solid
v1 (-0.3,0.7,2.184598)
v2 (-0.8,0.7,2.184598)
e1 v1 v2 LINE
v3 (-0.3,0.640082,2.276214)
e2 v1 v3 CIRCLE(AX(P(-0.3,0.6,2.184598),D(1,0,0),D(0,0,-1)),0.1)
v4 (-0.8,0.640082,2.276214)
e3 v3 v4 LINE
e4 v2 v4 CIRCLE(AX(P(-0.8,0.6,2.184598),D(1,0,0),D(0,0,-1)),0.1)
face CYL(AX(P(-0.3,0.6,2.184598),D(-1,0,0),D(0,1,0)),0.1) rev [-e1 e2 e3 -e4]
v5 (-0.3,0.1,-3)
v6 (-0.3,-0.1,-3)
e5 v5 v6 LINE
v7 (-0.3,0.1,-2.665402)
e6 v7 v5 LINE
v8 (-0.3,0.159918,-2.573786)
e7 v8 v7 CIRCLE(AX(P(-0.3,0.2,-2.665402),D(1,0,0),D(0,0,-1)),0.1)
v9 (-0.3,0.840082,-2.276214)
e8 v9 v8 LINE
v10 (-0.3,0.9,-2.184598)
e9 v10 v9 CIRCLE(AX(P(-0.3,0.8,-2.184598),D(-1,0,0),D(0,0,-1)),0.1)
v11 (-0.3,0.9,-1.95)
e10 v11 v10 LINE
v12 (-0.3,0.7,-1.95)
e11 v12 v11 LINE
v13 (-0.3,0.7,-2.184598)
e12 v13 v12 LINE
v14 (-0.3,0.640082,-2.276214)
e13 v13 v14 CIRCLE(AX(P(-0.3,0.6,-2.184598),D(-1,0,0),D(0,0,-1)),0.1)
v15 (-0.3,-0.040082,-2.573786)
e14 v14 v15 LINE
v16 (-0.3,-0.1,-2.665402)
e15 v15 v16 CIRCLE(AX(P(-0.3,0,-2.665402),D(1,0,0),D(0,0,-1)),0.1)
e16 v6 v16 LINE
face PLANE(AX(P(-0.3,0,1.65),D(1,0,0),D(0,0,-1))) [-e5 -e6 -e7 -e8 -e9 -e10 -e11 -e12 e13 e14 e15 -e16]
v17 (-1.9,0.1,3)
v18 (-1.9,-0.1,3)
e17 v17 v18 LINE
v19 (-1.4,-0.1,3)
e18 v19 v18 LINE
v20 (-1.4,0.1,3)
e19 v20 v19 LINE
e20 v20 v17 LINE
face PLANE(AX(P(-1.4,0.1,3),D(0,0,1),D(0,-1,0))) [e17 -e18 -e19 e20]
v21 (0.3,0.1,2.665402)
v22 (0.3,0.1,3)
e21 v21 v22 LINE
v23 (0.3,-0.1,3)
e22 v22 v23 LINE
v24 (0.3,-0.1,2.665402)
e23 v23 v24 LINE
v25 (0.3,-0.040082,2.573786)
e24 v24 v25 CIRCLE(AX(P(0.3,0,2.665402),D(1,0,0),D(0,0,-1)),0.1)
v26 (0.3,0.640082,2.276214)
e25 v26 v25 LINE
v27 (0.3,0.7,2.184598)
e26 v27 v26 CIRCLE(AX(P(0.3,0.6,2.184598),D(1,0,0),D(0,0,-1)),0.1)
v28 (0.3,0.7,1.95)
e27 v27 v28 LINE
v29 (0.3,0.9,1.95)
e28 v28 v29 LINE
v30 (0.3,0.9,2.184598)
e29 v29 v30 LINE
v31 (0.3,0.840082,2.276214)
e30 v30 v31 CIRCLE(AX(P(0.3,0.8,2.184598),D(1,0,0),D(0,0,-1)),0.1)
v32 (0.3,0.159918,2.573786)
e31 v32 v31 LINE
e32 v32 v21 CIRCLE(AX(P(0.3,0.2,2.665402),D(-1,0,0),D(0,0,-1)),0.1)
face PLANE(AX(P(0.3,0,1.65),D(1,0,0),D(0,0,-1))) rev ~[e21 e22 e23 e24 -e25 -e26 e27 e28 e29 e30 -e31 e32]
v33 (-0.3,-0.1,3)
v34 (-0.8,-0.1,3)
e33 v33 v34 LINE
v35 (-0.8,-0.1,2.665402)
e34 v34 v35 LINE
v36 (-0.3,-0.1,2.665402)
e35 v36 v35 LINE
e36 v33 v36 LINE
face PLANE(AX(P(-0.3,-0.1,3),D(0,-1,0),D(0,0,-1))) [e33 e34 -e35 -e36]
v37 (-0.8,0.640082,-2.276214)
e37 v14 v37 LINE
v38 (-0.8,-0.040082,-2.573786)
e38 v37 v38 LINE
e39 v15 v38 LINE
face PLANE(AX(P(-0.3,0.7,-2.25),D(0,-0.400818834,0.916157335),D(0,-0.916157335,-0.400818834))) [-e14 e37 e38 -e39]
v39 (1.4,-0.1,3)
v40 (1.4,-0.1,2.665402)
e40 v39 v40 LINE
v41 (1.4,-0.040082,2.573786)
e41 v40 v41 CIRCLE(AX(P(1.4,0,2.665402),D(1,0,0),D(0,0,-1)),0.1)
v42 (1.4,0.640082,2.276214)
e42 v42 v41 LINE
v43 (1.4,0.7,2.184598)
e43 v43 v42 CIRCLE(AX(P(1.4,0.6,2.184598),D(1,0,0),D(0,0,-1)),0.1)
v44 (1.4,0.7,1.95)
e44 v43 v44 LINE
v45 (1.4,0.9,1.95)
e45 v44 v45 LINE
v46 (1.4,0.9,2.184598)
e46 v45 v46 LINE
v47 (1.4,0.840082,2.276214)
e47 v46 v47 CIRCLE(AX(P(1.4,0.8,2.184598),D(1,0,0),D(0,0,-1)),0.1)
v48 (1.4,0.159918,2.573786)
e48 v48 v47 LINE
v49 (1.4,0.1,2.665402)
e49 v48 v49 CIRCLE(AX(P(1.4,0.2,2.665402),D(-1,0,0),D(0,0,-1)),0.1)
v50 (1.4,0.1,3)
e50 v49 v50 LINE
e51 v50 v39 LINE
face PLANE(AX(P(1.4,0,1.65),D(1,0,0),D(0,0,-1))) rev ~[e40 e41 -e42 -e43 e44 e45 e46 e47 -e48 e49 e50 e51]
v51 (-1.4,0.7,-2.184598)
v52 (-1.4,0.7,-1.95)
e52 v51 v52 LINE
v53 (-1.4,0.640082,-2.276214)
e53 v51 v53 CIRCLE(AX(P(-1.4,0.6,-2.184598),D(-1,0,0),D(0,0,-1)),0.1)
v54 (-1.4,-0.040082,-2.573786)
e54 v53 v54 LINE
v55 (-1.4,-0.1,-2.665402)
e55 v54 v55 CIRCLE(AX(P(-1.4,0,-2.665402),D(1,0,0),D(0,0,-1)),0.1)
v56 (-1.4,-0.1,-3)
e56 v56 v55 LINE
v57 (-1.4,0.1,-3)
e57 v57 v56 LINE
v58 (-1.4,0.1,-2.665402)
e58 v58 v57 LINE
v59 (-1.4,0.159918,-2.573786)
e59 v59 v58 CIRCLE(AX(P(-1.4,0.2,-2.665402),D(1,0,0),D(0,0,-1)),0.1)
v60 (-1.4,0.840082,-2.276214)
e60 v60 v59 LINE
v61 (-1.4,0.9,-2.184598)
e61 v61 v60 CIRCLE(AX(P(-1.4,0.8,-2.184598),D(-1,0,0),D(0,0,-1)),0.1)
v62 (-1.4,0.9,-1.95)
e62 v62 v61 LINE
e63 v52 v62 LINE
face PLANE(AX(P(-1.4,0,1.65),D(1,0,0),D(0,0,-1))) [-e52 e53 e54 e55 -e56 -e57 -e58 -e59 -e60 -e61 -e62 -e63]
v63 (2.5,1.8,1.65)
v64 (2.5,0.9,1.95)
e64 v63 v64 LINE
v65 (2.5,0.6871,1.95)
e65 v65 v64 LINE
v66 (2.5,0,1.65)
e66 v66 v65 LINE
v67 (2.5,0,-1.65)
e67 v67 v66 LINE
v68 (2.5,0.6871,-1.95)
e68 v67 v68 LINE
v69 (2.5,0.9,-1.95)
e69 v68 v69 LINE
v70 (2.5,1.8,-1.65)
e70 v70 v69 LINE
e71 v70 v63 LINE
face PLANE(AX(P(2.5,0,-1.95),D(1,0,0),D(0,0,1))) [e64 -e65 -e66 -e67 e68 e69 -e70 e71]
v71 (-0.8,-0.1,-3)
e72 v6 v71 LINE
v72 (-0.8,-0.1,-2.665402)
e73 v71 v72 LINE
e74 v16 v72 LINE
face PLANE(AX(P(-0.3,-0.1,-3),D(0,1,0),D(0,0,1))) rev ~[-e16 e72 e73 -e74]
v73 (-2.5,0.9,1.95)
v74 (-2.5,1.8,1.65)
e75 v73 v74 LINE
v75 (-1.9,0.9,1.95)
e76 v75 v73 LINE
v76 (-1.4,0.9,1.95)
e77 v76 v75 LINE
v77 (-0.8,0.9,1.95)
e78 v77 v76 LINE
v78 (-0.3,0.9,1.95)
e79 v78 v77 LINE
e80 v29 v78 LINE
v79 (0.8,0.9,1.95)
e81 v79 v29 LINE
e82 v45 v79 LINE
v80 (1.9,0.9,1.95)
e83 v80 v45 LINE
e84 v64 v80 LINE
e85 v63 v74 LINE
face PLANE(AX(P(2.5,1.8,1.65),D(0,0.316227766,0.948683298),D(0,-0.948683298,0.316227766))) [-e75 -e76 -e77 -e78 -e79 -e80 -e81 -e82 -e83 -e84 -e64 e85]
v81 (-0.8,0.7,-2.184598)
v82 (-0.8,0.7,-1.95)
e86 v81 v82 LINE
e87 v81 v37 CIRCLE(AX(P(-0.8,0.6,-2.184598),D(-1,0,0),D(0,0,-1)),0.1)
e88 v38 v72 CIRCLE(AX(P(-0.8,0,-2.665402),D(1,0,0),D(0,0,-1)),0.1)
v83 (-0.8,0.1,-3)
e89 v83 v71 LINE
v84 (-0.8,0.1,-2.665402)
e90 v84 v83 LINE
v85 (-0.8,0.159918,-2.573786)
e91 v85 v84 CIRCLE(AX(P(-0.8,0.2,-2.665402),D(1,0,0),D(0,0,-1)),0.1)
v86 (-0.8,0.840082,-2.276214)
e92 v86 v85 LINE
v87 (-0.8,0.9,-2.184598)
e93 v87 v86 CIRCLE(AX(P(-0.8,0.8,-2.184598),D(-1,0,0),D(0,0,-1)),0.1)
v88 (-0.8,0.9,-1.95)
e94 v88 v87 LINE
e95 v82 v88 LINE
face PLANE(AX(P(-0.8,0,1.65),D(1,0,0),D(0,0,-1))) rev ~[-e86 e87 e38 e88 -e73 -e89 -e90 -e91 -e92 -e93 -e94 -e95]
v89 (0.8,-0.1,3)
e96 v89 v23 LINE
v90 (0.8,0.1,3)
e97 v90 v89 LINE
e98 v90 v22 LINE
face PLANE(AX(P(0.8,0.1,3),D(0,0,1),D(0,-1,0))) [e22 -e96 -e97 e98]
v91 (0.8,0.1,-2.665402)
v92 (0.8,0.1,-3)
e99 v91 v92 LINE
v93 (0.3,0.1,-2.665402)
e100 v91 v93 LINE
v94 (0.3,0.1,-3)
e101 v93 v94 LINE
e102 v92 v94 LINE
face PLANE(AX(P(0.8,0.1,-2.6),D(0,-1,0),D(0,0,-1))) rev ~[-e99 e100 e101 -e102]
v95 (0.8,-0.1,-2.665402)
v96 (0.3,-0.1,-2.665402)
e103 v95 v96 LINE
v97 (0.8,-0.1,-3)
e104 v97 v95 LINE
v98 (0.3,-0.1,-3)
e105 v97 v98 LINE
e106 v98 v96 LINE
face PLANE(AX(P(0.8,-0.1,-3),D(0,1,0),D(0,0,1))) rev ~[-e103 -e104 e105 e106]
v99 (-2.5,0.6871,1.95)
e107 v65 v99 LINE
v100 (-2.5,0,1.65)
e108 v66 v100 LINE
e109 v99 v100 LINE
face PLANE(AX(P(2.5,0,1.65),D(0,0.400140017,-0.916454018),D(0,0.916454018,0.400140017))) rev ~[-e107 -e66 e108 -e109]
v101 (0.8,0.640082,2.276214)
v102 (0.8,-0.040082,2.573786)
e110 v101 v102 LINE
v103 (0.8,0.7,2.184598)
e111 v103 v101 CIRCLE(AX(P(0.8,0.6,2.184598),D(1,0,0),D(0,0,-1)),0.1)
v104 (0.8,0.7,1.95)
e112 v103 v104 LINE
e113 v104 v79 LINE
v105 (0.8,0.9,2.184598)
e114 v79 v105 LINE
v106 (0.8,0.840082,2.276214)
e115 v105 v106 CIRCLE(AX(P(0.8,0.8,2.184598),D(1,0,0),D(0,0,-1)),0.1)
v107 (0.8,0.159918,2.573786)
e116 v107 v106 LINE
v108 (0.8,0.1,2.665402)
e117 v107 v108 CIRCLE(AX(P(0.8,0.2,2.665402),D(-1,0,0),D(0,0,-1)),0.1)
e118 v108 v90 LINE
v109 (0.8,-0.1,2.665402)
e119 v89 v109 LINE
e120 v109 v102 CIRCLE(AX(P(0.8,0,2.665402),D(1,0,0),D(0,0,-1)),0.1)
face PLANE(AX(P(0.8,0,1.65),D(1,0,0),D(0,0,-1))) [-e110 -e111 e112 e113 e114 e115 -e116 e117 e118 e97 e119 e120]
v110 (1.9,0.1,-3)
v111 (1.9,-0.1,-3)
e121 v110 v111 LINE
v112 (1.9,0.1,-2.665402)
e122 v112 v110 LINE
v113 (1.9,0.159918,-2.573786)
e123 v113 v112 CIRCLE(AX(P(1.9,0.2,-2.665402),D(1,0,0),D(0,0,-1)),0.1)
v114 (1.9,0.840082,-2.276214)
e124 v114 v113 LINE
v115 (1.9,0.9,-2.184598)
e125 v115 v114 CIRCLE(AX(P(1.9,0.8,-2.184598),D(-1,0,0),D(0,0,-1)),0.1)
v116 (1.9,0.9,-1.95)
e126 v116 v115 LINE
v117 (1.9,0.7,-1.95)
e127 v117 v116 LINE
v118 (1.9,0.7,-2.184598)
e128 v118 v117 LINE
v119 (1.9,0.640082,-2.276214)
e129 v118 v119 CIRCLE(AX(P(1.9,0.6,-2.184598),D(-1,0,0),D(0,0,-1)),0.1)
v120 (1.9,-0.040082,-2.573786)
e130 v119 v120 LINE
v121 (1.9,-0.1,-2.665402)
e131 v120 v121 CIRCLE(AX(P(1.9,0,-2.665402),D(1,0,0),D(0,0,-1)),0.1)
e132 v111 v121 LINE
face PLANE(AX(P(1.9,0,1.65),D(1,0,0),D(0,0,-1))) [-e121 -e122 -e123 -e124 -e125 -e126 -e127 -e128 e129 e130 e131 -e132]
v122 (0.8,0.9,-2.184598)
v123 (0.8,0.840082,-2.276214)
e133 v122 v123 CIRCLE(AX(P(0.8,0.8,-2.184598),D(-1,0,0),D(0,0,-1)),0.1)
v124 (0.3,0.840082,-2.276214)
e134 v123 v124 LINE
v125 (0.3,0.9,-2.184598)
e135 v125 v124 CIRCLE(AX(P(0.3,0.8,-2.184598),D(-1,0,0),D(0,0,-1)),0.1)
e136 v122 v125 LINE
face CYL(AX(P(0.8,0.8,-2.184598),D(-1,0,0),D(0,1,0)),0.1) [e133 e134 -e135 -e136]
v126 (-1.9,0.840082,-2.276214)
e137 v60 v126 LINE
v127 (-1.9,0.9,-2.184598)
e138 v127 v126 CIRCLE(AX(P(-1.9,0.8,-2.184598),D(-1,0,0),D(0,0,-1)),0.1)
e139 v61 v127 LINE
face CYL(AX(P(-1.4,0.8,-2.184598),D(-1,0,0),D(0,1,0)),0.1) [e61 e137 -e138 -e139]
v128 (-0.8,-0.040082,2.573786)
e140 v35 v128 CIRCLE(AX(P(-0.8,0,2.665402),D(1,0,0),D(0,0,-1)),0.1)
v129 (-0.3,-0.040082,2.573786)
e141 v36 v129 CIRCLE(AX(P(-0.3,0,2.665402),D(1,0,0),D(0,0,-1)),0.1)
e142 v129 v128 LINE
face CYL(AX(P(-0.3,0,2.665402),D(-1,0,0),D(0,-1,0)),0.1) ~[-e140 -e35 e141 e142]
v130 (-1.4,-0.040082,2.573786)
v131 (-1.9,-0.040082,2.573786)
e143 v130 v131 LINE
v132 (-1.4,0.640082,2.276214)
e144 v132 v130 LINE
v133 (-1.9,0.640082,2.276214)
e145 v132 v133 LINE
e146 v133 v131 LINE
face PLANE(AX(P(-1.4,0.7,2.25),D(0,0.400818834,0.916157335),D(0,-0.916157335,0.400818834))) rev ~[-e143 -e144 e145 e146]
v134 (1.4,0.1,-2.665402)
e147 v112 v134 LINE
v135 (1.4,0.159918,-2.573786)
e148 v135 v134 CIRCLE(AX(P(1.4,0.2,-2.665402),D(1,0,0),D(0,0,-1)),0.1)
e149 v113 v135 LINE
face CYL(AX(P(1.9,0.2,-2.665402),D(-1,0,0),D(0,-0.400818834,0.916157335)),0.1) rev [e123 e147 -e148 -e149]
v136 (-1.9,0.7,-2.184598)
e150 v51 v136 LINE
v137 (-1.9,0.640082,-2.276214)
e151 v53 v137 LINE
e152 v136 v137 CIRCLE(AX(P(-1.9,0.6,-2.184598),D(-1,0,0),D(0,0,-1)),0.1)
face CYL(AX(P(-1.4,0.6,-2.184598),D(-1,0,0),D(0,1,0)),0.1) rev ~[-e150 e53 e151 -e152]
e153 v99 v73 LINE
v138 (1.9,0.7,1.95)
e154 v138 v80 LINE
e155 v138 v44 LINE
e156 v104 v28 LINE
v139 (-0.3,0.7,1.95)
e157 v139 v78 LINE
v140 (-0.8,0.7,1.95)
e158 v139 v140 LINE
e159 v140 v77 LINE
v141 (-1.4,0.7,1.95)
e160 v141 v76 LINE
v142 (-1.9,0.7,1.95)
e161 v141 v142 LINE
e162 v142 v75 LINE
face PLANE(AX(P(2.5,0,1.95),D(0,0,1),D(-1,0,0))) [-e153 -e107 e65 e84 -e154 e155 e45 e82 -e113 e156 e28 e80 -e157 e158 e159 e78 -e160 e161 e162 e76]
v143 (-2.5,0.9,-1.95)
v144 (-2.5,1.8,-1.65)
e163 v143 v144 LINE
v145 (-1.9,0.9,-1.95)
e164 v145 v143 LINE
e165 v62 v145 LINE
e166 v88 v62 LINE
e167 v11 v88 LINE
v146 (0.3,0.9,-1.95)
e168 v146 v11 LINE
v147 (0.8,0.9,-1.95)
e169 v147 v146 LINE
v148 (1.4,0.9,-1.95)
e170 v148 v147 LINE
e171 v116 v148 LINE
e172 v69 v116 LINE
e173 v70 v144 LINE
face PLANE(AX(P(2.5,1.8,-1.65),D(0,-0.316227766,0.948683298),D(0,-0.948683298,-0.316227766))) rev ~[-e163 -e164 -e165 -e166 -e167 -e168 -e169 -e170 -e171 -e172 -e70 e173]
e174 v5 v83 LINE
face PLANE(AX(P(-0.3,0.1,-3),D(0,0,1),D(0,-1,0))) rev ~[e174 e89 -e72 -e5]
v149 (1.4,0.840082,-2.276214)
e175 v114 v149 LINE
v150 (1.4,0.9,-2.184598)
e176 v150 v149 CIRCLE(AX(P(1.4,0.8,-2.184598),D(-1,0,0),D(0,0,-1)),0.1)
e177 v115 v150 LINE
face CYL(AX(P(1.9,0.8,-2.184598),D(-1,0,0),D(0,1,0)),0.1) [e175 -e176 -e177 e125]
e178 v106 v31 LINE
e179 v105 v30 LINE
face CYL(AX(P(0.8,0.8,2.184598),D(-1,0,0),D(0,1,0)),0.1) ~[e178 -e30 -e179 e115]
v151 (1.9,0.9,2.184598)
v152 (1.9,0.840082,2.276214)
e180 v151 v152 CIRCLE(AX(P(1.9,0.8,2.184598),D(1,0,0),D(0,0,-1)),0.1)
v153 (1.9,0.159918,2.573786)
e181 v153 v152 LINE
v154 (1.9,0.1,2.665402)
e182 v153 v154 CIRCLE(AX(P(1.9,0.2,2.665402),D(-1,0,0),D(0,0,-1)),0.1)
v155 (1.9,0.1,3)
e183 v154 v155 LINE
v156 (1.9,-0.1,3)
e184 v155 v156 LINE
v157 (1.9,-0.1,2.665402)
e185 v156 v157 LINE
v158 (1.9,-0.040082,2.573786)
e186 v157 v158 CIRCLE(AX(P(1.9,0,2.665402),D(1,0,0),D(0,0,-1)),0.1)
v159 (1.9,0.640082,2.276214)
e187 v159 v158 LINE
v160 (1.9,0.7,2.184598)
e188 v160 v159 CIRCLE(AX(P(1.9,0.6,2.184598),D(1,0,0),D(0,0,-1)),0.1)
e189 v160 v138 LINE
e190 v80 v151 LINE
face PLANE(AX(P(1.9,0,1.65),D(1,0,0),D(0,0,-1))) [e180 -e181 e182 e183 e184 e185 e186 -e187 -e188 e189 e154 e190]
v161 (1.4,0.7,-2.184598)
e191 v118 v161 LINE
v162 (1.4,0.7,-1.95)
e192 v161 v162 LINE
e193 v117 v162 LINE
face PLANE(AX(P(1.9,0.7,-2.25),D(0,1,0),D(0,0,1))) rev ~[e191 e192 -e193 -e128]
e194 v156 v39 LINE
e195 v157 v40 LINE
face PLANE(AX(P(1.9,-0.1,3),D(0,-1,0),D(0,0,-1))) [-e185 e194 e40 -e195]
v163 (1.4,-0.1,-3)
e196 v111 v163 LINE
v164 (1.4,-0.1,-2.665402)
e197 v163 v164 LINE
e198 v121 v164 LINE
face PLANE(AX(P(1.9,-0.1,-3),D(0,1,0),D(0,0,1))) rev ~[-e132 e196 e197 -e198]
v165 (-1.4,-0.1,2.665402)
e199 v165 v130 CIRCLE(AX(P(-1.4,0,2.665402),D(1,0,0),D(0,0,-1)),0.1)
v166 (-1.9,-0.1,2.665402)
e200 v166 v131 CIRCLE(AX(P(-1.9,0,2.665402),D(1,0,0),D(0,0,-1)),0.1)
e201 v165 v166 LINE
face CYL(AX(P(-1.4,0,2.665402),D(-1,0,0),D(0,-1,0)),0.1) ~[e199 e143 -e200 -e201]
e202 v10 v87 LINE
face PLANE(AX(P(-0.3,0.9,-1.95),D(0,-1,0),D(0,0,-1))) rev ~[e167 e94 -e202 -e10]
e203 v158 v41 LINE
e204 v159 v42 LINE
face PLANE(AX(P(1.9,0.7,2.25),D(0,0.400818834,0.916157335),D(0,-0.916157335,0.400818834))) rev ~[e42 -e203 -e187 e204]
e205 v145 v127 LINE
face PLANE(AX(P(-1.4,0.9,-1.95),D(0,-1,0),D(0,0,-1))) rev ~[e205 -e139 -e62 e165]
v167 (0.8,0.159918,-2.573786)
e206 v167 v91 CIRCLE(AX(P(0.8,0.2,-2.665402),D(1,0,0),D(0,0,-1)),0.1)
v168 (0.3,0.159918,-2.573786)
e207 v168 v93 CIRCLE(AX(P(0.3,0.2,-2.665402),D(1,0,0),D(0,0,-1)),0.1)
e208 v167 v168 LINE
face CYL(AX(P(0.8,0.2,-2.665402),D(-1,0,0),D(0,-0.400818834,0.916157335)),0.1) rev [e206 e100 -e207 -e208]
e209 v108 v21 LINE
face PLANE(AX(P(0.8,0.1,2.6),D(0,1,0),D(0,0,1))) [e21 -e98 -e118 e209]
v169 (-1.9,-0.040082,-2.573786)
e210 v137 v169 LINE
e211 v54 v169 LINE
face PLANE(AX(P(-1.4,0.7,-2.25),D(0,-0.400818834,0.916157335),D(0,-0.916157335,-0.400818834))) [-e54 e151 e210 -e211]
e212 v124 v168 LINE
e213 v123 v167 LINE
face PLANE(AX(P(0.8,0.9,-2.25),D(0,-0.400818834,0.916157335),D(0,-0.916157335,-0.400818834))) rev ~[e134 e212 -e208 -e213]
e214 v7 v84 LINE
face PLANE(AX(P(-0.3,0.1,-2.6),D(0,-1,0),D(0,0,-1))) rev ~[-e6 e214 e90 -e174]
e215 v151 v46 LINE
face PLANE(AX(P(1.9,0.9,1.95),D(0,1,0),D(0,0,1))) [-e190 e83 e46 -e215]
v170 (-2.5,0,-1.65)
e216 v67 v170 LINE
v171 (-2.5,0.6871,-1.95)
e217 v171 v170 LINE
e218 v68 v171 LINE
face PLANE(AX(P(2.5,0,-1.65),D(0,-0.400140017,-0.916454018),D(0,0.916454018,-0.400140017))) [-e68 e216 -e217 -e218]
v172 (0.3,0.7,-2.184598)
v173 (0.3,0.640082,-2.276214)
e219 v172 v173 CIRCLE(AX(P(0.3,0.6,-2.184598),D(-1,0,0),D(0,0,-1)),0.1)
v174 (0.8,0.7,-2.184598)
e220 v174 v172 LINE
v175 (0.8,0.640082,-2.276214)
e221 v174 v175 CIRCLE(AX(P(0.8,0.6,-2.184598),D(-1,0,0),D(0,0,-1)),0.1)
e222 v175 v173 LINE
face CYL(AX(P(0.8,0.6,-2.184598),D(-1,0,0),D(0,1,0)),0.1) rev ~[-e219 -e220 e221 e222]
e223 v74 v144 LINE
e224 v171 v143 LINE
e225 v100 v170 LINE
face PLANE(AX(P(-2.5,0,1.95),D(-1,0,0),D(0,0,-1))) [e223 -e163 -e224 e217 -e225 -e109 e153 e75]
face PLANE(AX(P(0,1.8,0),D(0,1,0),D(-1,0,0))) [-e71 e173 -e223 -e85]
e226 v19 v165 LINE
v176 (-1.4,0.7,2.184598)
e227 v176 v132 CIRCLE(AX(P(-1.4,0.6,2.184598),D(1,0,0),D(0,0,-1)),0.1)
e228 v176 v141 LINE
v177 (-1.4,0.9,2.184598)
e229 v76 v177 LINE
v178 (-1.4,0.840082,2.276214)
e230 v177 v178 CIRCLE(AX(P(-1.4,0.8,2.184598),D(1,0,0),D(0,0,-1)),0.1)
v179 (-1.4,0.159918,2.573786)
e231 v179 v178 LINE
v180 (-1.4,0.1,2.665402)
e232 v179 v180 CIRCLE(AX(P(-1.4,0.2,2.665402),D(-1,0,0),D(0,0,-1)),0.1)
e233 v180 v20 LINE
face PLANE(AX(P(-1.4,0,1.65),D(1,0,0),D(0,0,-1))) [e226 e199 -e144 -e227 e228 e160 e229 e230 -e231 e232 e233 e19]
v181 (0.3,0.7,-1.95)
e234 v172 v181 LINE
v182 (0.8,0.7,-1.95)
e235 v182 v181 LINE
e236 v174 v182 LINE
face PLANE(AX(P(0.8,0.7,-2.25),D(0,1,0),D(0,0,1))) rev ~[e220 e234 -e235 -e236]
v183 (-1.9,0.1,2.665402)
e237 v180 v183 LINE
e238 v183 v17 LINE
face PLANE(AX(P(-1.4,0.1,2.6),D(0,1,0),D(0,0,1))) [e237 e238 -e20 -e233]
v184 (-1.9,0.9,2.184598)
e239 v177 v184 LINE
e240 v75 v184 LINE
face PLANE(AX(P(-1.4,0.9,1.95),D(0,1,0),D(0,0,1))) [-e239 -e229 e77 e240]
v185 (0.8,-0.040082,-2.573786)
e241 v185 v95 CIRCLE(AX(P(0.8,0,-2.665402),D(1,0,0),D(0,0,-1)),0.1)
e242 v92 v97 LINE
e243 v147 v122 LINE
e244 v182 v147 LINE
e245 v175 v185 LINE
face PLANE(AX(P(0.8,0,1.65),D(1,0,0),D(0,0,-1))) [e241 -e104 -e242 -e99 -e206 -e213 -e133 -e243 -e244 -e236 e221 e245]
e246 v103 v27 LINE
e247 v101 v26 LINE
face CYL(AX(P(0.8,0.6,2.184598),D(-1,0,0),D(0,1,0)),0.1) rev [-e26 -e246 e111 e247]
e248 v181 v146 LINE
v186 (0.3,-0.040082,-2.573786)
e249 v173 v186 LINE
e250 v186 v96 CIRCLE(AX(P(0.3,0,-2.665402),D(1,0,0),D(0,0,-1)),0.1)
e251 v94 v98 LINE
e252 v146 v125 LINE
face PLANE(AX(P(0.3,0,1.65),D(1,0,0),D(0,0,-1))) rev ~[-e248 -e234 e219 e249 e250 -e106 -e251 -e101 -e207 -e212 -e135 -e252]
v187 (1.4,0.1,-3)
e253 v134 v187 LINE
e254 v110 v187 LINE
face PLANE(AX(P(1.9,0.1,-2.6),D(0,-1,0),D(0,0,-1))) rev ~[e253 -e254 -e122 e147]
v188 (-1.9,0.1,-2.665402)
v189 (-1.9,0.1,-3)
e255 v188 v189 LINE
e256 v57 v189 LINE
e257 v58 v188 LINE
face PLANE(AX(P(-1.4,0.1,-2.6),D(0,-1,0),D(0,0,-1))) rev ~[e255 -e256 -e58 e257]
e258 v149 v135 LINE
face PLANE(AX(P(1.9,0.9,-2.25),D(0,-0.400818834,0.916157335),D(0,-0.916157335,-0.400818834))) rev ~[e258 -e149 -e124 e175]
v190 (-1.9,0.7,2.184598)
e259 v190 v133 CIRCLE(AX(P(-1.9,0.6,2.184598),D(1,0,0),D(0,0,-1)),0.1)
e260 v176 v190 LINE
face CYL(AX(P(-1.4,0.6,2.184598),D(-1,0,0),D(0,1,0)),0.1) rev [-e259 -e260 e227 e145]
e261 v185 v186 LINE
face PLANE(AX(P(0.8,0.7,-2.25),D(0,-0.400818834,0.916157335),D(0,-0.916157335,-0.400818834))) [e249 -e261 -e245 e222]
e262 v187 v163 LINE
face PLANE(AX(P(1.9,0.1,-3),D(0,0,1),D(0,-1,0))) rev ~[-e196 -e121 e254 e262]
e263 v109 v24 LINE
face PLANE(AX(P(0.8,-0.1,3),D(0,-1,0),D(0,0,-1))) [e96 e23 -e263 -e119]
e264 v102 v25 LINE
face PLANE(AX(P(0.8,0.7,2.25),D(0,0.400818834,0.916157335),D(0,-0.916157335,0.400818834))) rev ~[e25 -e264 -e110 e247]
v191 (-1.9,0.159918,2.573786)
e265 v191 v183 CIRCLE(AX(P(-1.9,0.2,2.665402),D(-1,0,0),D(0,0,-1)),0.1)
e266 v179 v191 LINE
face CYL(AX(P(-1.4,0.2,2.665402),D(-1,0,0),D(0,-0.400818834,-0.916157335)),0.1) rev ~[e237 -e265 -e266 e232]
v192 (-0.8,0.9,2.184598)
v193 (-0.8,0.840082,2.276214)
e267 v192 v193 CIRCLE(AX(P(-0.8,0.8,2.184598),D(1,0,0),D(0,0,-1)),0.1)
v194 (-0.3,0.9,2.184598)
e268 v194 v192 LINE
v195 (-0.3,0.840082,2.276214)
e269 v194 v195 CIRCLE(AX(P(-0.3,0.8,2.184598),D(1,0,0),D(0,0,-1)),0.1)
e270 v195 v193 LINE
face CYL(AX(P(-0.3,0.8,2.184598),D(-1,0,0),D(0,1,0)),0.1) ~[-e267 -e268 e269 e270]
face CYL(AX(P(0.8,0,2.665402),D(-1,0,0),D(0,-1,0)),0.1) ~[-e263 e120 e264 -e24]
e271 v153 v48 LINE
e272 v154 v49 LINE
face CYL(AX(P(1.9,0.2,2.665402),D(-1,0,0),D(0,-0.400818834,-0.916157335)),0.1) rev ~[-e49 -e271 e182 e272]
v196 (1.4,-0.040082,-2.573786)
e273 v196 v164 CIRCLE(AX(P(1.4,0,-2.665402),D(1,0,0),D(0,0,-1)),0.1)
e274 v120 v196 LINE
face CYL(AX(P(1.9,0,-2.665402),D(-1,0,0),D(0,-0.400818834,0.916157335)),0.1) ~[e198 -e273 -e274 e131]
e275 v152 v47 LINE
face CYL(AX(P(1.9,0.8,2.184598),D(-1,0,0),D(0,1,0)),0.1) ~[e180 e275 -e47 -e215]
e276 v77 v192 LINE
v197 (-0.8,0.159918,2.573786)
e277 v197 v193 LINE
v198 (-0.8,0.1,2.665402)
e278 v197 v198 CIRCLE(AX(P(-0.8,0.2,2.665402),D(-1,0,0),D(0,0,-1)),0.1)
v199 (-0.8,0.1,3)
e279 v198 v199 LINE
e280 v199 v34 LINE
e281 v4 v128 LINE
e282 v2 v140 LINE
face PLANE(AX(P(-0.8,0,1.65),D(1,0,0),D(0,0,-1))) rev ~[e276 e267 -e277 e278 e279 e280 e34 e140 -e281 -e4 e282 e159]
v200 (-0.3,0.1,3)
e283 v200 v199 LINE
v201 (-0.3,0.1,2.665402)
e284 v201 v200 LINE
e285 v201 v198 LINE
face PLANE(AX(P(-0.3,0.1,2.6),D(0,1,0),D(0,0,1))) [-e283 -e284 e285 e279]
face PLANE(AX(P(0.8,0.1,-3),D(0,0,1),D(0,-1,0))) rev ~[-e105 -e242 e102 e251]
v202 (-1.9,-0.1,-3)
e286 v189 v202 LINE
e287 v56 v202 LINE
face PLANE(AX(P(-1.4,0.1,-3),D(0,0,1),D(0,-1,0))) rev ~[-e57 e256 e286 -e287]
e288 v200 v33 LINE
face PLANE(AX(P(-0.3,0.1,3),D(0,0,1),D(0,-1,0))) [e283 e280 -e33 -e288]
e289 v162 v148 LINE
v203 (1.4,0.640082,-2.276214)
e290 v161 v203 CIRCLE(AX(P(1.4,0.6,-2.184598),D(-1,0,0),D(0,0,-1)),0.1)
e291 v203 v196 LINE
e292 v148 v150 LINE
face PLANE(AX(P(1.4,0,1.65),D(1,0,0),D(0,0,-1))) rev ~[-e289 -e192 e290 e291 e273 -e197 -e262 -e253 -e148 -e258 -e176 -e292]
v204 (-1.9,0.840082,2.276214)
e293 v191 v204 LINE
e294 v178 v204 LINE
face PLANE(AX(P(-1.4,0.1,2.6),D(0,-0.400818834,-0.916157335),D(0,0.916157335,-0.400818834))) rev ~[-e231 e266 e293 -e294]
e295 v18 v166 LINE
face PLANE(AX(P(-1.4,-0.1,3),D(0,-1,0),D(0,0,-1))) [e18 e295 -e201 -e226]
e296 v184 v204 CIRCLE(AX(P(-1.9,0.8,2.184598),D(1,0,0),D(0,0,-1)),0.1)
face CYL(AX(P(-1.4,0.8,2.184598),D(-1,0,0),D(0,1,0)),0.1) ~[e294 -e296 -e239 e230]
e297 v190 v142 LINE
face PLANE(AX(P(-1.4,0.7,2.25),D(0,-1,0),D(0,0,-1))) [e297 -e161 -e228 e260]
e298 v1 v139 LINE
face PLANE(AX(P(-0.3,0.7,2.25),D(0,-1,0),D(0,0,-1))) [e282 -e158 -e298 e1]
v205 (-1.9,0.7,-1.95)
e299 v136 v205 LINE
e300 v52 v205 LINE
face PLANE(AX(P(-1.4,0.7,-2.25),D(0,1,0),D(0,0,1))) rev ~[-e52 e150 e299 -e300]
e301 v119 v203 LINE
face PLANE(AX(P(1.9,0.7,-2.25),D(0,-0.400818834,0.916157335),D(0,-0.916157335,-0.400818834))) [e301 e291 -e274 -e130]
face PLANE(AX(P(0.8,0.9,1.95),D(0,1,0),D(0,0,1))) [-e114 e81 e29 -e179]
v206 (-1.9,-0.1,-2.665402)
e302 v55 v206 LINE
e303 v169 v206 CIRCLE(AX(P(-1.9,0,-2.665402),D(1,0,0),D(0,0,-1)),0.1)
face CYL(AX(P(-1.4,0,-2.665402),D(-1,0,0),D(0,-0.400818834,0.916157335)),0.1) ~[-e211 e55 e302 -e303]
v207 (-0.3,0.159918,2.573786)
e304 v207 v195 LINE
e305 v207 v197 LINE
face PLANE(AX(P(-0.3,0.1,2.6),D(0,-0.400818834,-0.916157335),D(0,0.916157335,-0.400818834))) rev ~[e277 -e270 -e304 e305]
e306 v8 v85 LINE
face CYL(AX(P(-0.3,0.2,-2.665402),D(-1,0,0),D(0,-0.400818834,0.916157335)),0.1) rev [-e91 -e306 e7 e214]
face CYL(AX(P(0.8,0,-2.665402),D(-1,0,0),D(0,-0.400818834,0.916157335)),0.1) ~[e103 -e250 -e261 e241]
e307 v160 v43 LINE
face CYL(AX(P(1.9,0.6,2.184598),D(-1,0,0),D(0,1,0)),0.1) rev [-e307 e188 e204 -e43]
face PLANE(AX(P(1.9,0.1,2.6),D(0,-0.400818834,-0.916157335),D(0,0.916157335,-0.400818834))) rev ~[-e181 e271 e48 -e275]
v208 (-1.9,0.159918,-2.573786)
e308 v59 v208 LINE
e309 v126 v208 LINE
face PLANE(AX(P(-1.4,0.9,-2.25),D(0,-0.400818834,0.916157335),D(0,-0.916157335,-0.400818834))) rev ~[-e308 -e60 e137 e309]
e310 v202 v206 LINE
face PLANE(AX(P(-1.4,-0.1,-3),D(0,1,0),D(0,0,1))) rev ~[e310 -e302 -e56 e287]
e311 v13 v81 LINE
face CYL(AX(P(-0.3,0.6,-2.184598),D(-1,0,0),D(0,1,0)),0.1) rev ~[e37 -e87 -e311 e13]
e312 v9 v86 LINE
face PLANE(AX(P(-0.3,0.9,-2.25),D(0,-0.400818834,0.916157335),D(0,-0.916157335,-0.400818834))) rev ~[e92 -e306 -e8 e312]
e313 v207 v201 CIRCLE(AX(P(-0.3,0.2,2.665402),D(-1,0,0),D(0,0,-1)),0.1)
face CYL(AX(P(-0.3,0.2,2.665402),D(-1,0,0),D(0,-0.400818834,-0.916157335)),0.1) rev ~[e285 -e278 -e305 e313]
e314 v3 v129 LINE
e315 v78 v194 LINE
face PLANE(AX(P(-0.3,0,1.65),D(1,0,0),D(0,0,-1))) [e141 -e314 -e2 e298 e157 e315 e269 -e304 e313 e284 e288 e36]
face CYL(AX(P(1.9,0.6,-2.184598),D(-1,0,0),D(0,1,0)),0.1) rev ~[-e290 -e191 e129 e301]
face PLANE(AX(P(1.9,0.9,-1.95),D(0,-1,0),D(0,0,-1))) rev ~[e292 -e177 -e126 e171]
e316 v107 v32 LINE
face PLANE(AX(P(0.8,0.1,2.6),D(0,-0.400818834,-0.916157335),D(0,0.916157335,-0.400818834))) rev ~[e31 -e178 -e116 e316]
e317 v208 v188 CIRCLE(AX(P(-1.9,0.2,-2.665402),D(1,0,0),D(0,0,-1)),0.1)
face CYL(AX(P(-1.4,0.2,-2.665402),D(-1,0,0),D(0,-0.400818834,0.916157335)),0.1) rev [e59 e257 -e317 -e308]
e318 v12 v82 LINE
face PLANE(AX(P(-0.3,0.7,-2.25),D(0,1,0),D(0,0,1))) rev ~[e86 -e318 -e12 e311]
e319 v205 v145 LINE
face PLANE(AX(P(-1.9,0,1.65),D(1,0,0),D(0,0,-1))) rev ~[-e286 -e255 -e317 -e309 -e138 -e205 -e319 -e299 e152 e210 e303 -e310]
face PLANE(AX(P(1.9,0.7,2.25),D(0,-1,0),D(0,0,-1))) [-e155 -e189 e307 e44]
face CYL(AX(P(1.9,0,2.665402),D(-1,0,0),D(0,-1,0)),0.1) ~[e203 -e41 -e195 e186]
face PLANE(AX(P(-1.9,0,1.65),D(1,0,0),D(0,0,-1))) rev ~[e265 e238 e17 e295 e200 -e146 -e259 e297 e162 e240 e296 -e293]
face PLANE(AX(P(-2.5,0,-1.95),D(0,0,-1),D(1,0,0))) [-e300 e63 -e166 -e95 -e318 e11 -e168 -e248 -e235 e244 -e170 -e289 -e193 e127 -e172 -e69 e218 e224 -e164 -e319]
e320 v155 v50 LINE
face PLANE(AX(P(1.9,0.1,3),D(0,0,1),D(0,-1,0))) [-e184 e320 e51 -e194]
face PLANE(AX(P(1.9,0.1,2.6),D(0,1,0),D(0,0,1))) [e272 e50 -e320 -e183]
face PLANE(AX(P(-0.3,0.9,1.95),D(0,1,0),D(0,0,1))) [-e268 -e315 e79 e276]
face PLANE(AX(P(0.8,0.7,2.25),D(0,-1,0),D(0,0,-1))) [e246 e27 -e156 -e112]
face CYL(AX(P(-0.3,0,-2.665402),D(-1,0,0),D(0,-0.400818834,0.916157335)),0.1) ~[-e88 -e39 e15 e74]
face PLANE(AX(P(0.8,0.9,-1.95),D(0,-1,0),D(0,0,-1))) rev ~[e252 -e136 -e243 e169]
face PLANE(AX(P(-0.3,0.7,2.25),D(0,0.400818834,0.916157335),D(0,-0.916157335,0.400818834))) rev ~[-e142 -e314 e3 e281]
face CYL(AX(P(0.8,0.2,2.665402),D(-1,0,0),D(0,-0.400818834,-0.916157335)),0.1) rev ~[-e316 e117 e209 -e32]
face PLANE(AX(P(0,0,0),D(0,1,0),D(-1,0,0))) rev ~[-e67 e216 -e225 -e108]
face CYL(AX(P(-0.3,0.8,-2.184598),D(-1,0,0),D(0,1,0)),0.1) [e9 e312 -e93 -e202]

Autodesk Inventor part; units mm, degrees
ref_plane "YZ Plane" through (0, 0, 0) normal (1, 0, 0) x (0, 1, 0)
ref_plane "XZ Plane" through (0, 0, 0) normal (0, 1, 0) x (-1, 0, 0)
sketch "Sketch1" plane through (0, 0, 0) normal (0, 1, 0) x (-1, 0, 0)
  line L0 (2.5, 1.95) -> (2.5, -1.95)
  line L1 (2.5, -1.95) -> (-2.5, -1.95)
  line L2 (-2.5, -1.95) -> (-2.5, 1.95)
  line L3 (-2.5, 1.95) -> (2.5, 1.95)
  line L4 (2.5, 1.95) -> (-2.5, -1.95) construction
  line L5 (2.5, -1.95) -> (-2.5, 1.95) construction
  point P0 (0, 0)
  dimension "d0" = 3.9
  dimension "d1" = 5
extrude "Extrusion1" add sketch "Sketch1" along normal blind 1.8
sketch "Sketch2" plane through (2.5, 0, 1.95) normal (1, 0, 0) x (0, 0, -1)
  line L0 (0, 0) -> (3.9, 0) projected
  line L1 (3.9, 0) -> (3.9, 1.8) projected
  line L2 (0, 1.8) -> (3.9, 1.8) projected
  line L3 (0, 0) -> (0, 1.8) projected
  line L4 (0, 0) -> (0, 1.8) projected
  line L5 (0, 0.9) -> (3.9, 0.9)
  line L6 (3.9, 0) -> (3.9, 1.8) projected
  line L7 (0, 0.9) -> (-1.05, 0.9)
  line L8 (3.9, 0.9) -> (4.95, 0.9)
  line L9 (-1.05, 0.9) -> (-1.05, -0.1)
  line L10 (4.95, 0.9) -> (4.95, -0.1)
  line L11 (-1.05, -0.1) -> (-0.65, -0.1)
  line L12 (-0.65, -0.1) -> (-0.65, 0.1)
  line L13 (-0.65, 0.1) -> (-1.05, 0.1)
  line L14 (-1.05, 0.1) -> (-1.05, -0.1)
  line L15 (4.95, -0.1) -> (4.55, -0.1)
  line L16 (4.55, -0.1) -> (4.55, 0.1)
  line L17 (4.55, 0.1) -> (4.95, 0.1)
  line L18 (4.95, 0.1) -> (4.95, -0.1)
  line L19 (0, 0.9) -> (-0.3, 0.9)
  line L20 (-0.3, 0.9) -> (-0.3, 0.7)
  line L21 (-0.3, 0.7) -> (0, 0.7)
  line L22 (0, 0.7) -> (0, 0.9)
  line L23 (3.9, 0.9) -> (4.2, 0.9)
  line L24 (4.2, 0.9) -> (4.2, 0.7)
  line L25 (4.2, 0.7) -> (3.9, 0.7)
  line L26 (3.9, 0.7) -> (3.9, 0.9)
  line L27 (-0.65, 0.1) -> (-0.3, 0.9)
  line L28 (-0.3, 0.7) -> (-0.65, -0.1)
  line L29 (4.2, 0.9) -> (4.55, 0.1)
  line L30 (4.2, 0.7) -> (4.55, -0.1)
  point P0 (1.95, 0)
  dimension "d4" = 1.05
  dimension "d5" = 1.05
  dimension "d6" = 1
  dimension "d7" = 1
  dimension "d8" = 0.4
  dimension "d9" = 0.2
  dimension "d10" = 0.4
  dimension "d11" = 0.2
  dimension "d12" = 0.3
  dimension "d13" = 0.2
  dimension "d14" = 0.3
  dimension "d15" = 0.2
sketch "Sketch3" plane through (2.5, 0, 1.95) normal (1, 0, 0) x (0, 0, -1)
  line L0 (0, 1.8) -> (3.9, 1.8) projected
  line L1 (0, 1.8) -> (0.3, 1.8)
  line L2 (0.3, 1.8) -> (0, 0.9)
  line L3 (0, 0) -> (0, 1.8) projected
  line L4 (3.9, 0) -> (3.9, 1.8) projected
  line L5 (3.9, 1.8) -> (3.6, 1.8)
  line L6 (3.6, 1.8) -> (3.9, 0.9)
  line L7 (0, 0) -> (0.3, 0)
  line L8 (0, 0) -> (3.9, 0) projected
  line L9 (0.3, 0) -> (0, 0.6871)
  line L10 (3.9, 0) -> (3.6, 0)
  line L11 (3.6, 0) -> (3.9, 0.6871)
  point P0 (1.95, 0)
  dimension "d16" = 0.3
  dimension "d17" = 0.3
  dimension "d18" = 0.3
  dimension "d19" = 0.3
extrude "Extrusion2" cut sketch "Sketch3" against normal blind 10 contours L0 L2 L3 | L0 L4 L6 | L9 L7 L3 | L4 L8 L11
ref_plane "Work Plane1" through (1.9, 0, 1.65) normal (1, 0, 0) x (0, 0, -1)
sketch "Sketch4" plane through (1.9, 0, 1.65) normal (1, 0, 0) x (0, 0, -1)
  line L0 (3.9, 0.9) -> (3.9, 0.7) projected
  line L1 (3.9, 0.7) -> (3.6, 0.7) projected
  line L2 (3.6, 0.9) -> (4.65, 0.9) projected
  line L3 (3.9, 0.9) -> (4.25, 0.1) projected
  line L4 (3.9, 0.7) -> (4.25, -0.1) projected
  line L5 (4.25, 0.1) -> (4.65, 0.1) projected
  line L6 (4.25, -0.1) -> (4.25, 0.1) projected
  line L7 (4.65, -0.1) -> (4.25, -0.1) projected
  line L8 (4.65, 0.1) -> (4.65, -0.1) projected
  line L9 (-0.95, 0.1) -> (-1.35, 0.1) projected
  line L10 (-1.35, -0.1) -> (-0.95, -0.1) projected
  line L11 (-1.35, 0.9) -> (-1.35, -0.1) projected
  line L12 (-0.6, 0.7) -> (-0.95, -0.1) projected
  line L13 (-0.95, 0.1) -> (-0.6, 0.9) projected
  line L14 (-0.6, 0.9) -> (-0.6, 0.7) projected
  line L15 (-0.95, -0.1) -> (-0.95, 0.1) projected
  line L16 (-0.6, 0.7) -> (-0.3, 0.7) projected
  line L17 (-0.3, 0.6871) -> (-0.3, 0.9) projected
  line L18 (-0.3, 0.9) -> (-0.6, 0.9) projected
  line L19 (-0.3, 0.9) -> (-1.35, 0.9) projected
  line L20 (4.65, 0.9) -> (4.65, -0.1) projected
  line L21 (3.6, 0.7) -> (3.6, 0.9)
  line L22 (0, 1.8) -> (-0.3, 0.9) projected
  line L23 (-0.3, 0.6871) -> (0, 0) projected
  line L24 (-0.3, 0.9) -> (-0.3, 0.6871)
  point P0 (1.65, 0)
extrude "Extrusion3" add sketch "Sketch4" against normal blind 0.5 contours L3 L6 L4 L0 | L0 L1 L21 L2 | L5 L8 L7 L6 | L15 L10 L11 L9 | L13 L14 L12 L15 | L18 L17 L16 L14
fillet "Fillet1" radius 0.1 8 edges at (1.65, 0.9, -2.25) (1.65, 0.7, -2.25) (1.65, -0.1, -2.6) (1.65, 0.1, -2.6) (1.65, 0.9, 2.25) (1.65, 0.1, 2.6) (1.65, -0.1, 2.6) (1.65, 0.7, 2.25)
pattern_linear "Rectangular Pattern1" count 4 spacing 1.1 along (-1, 0, 0) of "Extrusion3", "Fillet1"
sketch "Sketch5" plane through (1.9, 0, 1.65) normal (1, 0, 0) x (0, 0, -1)
  point P0 (1.65, 0)
properties part number "as5600"
